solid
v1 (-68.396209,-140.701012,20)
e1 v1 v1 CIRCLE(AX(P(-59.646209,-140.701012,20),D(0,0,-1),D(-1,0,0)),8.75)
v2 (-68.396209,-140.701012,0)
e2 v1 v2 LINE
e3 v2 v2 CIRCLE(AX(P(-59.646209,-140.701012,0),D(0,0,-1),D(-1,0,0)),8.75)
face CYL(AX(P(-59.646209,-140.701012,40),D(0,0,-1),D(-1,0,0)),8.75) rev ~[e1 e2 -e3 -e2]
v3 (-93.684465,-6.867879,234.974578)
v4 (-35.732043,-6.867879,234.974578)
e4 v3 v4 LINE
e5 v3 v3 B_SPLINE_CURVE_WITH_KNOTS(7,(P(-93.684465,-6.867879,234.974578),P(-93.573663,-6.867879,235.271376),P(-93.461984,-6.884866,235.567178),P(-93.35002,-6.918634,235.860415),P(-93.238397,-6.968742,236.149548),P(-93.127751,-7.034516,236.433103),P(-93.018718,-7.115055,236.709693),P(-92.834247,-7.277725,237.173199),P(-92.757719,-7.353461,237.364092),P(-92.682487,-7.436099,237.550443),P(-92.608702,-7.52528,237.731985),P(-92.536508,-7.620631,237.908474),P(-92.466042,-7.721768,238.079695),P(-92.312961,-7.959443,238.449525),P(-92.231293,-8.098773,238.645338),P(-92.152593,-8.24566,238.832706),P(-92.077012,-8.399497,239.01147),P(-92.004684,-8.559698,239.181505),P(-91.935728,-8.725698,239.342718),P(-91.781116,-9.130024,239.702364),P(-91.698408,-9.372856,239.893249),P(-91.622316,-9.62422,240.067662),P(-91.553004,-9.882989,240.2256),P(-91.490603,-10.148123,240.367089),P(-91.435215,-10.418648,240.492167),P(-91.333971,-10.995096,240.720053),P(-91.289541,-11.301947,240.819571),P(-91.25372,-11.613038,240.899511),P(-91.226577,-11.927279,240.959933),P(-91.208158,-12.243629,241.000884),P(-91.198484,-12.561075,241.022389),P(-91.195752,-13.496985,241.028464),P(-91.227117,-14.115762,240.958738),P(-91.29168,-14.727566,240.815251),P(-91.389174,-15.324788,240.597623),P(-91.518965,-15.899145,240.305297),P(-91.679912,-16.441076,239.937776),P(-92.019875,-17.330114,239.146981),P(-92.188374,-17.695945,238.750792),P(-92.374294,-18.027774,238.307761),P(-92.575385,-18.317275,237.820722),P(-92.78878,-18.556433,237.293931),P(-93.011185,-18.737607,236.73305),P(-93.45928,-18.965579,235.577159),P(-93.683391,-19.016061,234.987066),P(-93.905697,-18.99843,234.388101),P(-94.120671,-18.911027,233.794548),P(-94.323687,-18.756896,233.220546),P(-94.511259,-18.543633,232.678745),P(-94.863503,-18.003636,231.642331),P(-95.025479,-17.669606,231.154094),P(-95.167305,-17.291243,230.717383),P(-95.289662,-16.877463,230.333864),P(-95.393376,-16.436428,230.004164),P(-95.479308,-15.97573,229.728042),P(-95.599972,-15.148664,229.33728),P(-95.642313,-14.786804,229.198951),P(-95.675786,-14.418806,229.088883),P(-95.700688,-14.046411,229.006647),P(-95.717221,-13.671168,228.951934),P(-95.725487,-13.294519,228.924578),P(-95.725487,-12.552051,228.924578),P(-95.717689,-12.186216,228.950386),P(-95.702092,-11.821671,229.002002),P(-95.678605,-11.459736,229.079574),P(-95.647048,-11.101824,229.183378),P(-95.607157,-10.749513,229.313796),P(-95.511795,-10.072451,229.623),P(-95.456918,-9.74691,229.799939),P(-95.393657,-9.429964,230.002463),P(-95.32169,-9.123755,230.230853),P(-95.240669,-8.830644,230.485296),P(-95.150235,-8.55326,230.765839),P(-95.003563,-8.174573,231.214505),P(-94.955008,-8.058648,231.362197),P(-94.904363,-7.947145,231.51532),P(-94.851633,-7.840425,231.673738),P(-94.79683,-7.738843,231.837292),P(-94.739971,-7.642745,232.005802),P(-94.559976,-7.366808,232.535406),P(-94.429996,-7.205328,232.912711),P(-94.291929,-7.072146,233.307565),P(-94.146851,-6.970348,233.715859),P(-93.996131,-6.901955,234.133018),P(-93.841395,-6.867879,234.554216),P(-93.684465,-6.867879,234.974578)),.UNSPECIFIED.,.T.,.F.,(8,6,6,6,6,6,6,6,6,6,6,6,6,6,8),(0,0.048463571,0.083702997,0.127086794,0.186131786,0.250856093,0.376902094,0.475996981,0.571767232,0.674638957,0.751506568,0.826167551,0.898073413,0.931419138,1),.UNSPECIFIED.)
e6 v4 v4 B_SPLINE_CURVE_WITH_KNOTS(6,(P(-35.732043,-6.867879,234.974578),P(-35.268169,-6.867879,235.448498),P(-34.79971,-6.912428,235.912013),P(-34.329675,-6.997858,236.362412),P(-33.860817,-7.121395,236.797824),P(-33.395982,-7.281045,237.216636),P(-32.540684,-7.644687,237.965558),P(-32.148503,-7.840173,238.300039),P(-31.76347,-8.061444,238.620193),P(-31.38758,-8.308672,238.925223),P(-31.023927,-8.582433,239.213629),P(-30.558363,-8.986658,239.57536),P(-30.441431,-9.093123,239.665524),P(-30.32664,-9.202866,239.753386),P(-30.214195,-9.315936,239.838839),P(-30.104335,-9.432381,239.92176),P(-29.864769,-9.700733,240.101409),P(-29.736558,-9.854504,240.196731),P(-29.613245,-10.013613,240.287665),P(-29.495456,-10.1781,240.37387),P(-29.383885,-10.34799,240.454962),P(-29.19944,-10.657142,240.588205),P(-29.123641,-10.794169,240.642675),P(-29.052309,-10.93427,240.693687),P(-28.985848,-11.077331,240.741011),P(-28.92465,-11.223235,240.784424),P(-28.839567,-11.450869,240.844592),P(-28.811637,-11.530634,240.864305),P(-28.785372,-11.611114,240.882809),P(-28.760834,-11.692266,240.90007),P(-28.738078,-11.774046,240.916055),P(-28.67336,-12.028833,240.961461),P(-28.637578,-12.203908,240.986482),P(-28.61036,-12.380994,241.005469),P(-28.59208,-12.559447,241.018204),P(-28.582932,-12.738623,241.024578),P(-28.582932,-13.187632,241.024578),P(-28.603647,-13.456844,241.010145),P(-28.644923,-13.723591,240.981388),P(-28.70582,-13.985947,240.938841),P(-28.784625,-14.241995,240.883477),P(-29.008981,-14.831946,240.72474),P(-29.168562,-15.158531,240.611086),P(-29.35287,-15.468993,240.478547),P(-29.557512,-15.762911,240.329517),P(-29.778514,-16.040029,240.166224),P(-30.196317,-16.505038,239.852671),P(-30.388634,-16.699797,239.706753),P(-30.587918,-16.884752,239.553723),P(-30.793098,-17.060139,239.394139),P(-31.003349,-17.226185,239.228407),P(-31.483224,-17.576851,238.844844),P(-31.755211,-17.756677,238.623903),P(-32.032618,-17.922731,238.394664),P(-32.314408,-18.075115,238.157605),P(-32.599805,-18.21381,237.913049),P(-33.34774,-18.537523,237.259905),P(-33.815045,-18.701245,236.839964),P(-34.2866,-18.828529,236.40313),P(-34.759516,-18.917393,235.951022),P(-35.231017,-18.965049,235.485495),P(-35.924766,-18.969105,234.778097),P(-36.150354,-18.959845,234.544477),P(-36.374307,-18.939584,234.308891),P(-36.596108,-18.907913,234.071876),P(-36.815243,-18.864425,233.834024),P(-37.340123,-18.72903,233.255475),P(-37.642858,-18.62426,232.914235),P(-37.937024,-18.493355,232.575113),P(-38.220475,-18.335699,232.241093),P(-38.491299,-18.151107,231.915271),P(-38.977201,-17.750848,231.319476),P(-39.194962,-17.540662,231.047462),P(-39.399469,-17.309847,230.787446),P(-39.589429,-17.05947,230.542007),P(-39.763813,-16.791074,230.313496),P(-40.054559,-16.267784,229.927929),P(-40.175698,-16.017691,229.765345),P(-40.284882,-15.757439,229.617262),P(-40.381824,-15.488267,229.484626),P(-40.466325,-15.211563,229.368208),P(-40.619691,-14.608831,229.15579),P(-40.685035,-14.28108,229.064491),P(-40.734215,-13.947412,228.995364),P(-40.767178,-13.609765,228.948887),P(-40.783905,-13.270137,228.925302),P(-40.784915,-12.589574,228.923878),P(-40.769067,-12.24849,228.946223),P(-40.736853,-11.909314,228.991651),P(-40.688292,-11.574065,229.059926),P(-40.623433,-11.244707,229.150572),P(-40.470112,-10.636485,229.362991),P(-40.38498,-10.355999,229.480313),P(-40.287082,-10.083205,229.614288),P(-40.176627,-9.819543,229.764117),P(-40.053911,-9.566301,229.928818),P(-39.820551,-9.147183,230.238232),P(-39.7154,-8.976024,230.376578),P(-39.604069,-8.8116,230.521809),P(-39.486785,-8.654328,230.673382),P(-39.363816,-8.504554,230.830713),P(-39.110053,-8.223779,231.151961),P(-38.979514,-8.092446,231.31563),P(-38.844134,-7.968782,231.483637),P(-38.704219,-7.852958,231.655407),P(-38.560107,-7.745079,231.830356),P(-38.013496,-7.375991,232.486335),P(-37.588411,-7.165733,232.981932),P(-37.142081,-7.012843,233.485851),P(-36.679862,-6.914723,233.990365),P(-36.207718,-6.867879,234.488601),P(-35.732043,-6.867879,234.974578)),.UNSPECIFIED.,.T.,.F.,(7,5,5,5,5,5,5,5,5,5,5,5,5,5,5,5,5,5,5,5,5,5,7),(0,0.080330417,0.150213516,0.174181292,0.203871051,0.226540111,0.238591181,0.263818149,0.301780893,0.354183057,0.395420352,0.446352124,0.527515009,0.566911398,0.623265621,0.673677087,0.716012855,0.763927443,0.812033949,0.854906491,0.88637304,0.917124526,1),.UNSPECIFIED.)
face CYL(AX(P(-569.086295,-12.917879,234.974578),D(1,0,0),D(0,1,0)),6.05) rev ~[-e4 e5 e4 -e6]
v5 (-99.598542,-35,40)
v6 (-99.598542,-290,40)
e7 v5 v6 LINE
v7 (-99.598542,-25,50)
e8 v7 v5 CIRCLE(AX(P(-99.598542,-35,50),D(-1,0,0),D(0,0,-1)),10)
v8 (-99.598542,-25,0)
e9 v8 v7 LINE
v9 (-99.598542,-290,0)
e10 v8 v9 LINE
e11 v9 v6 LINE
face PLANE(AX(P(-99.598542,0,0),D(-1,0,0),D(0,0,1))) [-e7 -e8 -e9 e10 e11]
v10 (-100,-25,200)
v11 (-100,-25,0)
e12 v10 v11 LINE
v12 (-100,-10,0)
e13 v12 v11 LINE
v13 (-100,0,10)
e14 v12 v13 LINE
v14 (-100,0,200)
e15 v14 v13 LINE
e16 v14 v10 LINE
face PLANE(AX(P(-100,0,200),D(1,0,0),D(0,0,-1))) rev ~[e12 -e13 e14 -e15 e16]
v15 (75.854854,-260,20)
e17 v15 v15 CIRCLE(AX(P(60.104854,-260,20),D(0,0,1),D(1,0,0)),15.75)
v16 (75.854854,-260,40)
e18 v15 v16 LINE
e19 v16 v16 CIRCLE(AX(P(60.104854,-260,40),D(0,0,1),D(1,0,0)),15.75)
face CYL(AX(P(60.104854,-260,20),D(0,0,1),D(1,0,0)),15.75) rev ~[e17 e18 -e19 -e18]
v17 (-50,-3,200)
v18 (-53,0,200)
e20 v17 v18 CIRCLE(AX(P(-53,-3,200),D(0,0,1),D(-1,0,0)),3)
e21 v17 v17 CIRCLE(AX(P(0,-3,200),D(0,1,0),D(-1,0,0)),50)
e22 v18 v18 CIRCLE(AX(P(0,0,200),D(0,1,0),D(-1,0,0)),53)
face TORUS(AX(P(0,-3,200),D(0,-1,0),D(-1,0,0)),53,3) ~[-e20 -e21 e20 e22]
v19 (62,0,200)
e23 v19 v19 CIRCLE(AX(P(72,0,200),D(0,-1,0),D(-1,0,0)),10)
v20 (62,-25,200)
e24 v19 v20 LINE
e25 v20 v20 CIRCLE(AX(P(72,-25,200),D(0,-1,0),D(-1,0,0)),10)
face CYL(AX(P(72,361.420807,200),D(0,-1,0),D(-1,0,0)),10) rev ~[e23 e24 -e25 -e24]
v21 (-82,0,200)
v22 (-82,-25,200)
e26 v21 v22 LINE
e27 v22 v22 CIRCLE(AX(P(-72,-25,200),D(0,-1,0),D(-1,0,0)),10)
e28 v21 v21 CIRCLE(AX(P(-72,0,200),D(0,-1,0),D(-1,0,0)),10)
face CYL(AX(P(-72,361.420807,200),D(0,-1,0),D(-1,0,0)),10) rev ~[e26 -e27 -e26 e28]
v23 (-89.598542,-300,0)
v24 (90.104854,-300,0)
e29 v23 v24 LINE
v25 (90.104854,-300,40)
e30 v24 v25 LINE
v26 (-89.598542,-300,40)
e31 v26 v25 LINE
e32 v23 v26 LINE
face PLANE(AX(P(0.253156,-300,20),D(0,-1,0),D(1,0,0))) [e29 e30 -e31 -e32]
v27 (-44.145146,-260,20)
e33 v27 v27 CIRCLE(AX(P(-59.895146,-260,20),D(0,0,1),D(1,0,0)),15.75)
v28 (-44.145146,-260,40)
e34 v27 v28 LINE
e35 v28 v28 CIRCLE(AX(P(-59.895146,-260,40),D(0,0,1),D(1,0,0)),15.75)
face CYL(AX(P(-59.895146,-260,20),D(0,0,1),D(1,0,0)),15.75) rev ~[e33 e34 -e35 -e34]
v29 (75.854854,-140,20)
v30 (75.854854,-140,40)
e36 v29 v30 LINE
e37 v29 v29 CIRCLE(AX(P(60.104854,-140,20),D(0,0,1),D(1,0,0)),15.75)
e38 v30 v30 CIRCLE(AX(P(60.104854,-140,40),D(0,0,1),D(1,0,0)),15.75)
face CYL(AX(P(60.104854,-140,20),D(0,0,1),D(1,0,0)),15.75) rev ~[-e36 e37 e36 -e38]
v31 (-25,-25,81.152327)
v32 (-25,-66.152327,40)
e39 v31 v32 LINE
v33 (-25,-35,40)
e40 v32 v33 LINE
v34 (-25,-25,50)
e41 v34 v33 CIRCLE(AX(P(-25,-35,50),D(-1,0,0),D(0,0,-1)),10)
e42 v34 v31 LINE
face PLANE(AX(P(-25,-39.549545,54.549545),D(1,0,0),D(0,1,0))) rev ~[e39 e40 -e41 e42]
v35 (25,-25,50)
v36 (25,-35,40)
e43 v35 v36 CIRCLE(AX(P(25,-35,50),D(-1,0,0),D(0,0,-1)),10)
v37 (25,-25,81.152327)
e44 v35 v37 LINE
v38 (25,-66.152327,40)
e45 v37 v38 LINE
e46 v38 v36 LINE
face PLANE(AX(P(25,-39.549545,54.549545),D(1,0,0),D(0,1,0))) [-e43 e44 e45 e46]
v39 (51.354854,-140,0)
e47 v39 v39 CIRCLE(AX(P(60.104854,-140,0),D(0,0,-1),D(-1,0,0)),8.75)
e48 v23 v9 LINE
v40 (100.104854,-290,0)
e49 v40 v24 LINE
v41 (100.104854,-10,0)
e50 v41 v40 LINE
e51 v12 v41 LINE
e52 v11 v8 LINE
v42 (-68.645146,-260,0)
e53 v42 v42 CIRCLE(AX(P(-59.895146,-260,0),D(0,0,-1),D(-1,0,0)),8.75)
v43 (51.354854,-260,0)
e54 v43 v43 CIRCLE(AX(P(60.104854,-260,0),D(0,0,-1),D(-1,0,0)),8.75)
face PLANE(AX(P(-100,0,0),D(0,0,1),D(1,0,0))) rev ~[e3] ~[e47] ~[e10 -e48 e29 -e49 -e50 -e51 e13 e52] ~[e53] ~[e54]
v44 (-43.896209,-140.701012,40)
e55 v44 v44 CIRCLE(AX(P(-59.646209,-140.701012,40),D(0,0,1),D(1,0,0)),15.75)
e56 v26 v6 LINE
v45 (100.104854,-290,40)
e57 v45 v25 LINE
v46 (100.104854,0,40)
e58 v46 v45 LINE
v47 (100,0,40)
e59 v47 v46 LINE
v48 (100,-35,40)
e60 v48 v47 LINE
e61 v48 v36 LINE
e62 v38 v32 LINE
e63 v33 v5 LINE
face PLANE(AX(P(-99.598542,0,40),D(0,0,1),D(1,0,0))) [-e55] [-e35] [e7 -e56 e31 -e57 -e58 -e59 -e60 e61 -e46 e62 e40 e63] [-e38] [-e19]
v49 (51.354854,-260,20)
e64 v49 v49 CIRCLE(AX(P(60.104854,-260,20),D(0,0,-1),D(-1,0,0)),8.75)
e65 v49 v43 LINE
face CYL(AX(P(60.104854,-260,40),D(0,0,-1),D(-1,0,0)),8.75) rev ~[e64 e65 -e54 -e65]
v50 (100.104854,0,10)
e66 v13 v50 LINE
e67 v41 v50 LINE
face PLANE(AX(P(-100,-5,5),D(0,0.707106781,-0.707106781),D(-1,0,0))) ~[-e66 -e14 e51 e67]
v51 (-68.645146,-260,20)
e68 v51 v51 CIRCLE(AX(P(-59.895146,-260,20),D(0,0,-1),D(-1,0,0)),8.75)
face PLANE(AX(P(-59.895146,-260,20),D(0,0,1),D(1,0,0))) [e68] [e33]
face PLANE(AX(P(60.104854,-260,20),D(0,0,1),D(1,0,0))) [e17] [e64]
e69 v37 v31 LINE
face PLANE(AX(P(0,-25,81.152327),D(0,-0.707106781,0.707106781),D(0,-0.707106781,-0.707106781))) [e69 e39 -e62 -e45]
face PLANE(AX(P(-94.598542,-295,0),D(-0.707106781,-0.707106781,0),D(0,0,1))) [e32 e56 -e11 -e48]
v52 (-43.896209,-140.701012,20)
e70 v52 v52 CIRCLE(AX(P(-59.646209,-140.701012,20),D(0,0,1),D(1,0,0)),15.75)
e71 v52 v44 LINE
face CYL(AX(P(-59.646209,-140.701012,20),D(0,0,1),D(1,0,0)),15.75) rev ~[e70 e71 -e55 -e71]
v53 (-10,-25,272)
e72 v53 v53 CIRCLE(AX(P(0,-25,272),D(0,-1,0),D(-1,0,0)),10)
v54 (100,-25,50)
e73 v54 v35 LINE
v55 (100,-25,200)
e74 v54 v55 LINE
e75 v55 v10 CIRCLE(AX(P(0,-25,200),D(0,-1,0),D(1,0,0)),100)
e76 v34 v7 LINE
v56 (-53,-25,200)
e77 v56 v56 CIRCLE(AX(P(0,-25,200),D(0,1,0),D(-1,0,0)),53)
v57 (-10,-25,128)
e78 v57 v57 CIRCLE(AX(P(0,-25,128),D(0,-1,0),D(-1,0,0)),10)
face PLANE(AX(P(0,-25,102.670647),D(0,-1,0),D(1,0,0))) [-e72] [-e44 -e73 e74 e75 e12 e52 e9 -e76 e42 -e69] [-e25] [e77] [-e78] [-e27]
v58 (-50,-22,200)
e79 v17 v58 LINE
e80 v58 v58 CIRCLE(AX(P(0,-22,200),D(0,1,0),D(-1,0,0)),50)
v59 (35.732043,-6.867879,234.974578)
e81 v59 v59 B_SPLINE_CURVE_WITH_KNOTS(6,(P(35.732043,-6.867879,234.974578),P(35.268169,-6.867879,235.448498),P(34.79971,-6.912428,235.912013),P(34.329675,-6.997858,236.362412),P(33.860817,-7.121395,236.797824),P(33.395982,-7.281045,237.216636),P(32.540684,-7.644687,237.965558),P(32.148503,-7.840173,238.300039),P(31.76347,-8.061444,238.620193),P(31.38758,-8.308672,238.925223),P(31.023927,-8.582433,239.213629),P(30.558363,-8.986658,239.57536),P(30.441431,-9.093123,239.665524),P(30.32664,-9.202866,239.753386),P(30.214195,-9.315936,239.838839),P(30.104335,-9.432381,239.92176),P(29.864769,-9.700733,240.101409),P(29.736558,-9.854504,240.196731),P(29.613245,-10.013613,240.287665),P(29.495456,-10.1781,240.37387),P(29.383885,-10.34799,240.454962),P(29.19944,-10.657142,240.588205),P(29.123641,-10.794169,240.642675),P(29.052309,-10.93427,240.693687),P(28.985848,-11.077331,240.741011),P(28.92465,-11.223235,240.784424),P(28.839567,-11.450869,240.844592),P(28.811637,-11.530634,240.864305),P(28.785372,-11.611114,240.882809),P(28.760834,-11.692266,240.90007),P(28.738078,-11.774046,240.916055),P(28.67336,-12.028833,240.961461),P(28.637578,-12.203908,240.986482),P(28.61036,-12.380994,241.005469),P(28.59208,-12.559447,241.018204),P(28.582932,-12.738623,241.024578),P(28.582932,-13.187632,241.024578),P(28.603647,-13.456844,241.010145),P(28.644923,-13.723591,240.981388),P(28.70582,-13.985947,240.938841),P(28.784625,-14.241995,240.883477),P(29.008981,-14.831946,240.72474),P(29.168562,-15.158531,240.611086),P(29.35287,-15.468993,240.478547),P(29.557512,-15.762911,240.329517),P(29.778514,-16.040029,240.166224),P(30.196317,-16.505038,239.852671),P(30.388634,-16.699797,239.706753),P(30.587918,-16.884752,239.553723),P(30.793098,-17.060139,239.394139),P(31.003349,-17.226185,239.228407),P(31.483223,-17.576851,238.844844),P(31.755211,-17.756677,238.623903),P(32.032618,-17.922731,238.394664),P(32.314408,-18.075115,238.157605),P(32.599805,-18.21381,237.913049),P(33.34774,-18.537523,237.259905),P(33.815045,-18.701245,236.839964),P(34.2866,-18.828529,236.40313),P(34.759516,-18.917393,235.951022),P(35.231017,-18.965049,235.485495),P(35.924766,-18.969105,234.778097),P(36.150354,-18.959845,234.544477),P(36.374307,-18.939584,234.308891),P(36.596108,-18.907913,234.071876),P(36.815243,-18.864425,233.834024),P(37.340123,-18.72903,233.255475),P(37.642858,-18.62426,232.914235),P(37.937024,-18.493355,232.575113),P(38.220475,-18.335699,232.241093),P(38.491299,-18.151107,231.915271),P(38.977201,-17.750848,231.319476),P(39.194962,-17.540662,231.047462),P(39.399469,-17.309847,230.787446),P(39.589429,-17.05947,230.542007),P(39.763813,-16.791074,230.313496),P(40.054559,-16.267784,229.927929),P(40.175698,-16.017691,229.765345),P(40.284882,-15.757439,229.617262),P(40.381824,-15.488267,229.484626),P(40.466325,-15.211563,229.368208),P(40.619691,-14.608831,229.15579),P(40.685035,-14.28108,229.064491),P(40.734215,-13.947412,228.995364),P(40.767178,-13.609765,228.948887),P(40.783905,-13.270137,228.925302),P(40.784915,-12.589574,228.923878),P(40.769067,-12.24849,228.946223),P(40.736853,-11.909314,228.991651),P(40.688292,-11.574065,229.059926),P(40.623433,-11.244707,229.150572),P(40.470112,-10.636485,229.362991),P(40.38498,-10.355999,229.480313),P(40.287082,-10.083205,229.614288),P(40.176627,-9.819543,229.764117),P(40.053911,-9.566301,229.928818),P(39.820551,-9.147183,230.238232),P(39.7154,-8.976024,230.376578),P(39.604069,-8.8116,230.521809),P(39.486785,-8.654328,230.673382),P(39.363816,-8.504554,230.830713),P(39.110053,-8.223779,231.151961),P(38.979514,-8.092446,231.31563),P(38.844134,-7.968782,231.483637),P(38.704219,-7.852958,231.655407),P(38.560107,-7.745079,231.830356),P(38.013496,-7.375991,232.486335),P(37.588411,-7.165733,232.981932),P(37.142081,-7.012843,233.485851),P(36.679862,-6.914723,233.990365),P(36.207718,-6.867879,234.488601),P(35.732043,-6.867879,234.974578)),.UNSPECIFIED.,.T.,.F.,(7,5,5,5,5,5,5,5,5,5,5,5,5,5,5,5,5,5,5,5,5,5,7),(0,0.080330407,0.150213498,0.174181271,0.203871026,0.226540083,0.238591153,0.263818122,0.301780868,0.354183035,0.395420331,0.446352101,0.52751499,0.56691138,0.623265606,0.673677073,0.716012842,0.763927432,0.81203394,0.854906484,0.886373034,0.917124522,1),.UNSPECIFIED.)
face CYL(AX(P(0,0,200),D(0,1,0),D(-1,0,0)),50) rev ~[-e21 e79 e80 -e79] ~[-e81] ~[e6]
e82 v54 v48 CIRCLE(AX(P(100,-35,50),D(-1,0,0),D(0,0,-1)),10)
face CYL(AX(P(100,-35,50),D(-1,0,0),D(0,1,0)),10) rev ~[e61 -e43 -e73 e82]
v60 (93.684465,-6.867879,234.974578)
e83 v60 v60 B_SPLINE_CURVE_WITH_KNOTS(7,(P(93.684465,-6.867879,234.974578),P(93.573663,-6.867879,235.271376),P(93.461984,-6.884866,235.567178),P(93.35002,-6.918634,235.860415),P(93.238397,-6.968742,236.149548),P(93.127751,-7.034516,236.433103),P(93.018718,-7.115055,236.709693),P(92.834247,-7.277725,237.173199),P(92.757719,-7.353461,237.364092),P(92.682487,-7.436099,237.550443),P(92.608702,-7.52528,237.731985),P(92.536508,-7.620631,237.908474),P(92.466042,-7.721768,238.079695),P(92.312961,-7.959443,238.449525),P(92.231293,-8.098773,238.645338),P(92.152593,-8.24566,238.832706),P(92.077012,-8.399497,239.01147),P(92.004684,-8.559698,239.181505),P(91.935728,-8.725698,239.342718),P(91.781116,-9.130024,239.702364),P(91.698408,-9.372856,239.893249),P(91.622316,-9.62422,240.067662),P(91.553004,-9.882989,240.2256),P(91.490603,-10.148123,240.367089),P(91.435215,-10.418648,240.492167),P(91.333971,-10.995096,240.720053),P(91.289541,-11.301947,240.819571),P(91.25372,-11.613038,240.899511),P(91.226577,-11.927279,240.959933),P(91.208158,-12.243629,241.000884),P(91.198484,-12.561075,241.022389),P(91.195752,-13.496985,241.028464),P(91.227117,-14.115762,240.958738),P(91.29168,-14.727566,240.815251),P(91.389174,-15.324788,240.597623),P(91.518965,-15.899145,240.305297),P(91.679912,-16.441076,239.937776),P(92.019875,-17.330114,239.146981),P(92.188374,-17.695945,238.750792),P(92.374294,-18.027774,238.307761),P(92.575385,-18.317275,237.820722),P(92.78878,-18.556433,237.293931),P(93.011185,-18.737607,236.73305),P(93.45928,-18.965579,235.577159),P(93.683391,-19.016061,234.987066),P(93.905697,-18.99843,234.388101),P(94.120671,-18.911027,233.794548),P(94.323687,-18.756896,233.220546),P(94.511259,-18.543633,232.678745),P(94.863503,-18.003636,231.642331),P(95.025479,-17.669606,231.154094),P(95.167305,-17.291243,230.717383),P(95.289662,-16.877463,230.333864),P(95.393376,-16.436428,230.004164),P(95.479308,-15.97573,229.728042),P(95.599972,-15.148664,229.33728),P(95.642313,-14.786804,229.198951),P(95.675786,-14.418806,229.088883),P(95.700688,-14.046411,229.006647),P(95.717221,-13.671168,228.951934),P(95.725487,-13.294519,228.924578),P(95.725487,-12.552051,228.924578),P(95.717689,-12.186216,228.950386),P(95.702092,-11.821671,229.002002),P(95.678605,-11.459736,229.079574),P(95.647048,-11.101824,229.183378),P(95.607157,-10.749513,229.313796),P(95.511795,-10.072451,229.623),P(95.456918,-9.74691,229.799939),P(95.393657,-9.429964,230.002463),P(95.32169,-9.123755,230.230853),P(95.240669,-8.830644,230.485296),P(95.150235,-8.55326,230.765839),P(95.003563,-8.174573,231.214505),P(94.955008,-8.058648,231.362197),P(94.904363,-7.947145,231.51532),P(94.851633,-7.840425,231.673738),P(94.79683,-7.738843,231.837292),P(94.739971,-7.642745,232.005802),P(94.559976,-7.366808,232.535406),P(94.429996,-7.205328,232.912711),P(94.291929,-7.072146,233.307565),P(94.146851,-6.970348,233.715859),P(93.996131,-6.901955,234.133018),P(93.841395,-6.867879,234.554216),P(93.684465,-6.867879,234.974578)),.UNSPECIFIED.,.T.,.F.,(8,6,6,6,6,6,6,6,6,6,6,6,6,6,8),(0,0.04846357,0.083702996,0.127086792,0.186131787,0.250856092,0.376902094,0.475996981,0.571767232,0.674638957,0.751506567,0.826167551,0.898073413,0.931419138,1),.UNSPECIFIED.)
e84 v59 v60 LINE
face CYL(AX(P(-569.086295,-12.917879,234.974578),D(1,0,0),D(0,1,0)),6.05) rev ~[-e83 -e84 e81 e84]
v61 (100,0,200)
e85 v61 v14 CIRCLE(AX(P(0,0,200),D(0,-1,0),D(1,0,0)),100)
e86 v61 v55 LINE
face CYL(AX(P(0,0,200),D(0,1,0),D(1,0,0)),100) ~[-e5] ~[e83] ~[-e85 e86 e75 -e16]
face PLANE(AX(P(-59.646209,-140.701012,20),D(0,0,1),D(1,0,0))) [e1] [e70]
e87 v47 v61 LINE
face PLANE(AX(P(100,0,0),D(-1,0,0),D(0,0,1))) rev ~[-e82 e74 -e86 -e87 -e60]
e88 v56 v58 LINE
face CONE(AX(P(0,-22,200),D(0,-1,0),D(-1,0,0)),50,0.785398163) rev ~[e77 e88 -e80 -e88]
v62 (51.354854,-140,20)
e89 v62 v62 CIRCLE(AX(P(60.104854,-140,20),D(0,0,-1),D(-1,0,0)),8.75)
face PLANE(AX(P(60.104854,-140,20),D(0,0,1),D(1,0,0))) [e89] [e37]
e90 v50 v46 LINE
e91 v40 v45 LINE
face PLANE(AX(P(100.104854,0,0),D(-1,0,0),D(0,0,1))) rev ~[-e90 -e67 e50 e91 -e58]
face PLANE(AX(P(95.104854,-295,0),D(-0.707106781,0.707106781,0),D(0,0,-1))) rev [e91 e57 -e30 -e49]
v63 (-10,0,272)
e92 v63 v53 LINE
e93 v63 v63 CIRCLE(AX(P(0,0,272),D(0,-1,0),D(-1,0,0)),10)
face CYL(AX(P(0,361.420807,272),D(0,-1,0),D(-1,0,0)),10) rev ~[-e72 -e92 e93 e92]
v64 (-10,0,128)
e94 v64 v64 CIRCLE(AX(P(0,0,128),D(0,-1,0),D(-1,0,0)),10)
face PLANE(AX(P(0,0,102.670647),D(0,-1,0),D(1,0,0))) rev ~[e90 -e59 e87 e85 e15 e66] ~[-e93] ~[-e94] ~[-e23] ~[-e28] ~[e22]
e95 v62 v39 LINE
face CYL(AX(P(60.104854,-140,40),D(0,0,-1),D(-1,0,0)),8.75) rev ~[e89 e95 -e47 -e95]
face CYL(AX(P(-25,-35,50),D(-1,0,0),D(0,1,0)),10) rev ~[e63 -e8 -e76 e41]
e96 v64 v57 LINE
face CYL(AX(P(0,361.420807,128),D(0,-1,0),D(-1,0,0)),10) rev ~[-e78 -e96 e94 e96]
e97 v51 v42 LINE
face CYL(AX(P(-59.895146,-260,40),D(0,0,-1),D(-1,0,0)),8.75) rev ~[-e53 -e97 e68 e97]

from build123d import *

# Parameters (mm, degrees)
F0_R           = 10
F1_DEPTH       = 25
F2_D           = 20
F3_W           = 199.7033953667
F3_H           = 40
F4_DEPTH       = 300
F6_DEPTH       = 25
F8_D           = 17.5
F8_CBORE_D     = 31.5
F8_CBORE_DEPTH = 20
F9_SIZE        = 10
F10_SIZE       = 3
F11_R          = 3
F12_R          = 10
F14_D          = 12.1
F15_SIZE       = 10


with BuildPart() as f1:
    # F0 (on Front) → F1 (new body)
    with BuildSketch(Plane.XZ):
        with BuildLine():
            Line((-100, 200), (-100, 0))
            Line((-100, 0), (100, 0))
            Line((100, 0), (100, 200))
            Line((100, 200), (82, 200))
            ThreePointArc((82, 200), (72, 190), (62, 200))
            Line((62, 200), (50, 200))
            ThreePointArc((50, 200), (0, 150), (-50, 200))
            Line((-50, 200), (-62, 200))
            ThreePointArc((-62, 200), (-72, 190), (-82, 200))
            Line((-82, 200), (-100, 200))
        make_face()
        with Locations((0, 128)):
            Circle(F0_R, mode=Mode.SUBTRACT)
        with BuildLine():
            ThreePointArc((100, 200), (0, 300), (-100, 200))
            Line((-100, 200), (-82, 200))
            ThreePointArc((-82, 200), (-72, 210), (-62, 200))
            Line((-62, 200), (-50, 200))
            ThreePointArc((-50, 200), (0, 250), (50, 200))
            Line((50, 200), (62, 200))
            ThreePointArc((62, 200), (72, 210), (82, 200))
            Line((82, 200), (100, 200))
        make_face()
        with Locations((0, 272)):
            Circle(F0_R, mode=Mode.SUBTRACT)
        with BuildLine():
            ThreePointArc((62, 200), (72, 190), (82, 200))
            Line((82, 200), (62, 200))
        make_face()
        with BuildLine():
            Line((62, 200), (82, 200))
            ThreePointArc((82, 200), (72, 210), (62, 200))
        make_face()
        with BuildLine():
            ThreePointArc((-62, 200), (-72, 210), (-82, 200))
            Line((-82, 200), (-62, 200))
        make_face()
        with BuildLine():
            Line((-62, 200), (-82, 200))
            ThreePointArc((-82, 200), (-72, 190), (-62, 200))
        make_face()
        with Locations((0, 272)):
            Circle(F0_R)
        with Locations((0, 128)):
            Circle(F0_R)
    extrude(amount=F1_DEPTH)

    # F2 (through all)
    with Locations(Plane(origin=(0, 0, 0), x_dir=(1, 0, 0), z_dir=(0, 1, 0))):
        with Locations((0, -272), (72, -200), (0, -128), (-72, -200)):
            Hole(F2_D / 2)

    # F3 (on Front) → F4 (join)
    with BuildSketch(Plane.XZ):
        with Locations((0.2531558275, 20)):
            Rectangle(F3_W, F3_H)
    extrude(amount=F4_DEPTH)

    # F5 (on Right) → F6 (join, symmetric)
    with BuildSketch(Plane.YZ):
        Polygon((-66.1523267627, 40), (-25, 40), (-25, 81.1523267627), align=None)
    extrude(amount=F6_DEPTH, both=True)

    # F8 (through all)
    with Locations(Plane.XY.offset(40)):
        with Locations((-59.6462091353, -140.7010122926), (60.1048535109, -140), (60.1048535109, -260), (-59.8951464891, -260)):
            CounterBoreHole(F8_D / 2, F8_CBORE_D / 2, F8_CBORE_DEPTH)

    # F9
    f9_edges = [f1.edges().sort_by_distance(p)[0] for p in [
        (-99.598542, -300, 20),
        (100.104854, -300, 20),
    ]]
    chamfer(f9_edges, length=F9_SIZE)

    # F10
    f10_edges = [f1.edges().sort_by_distance(p)[0] for p in [
        (50, -25, 200),
    ]]
    chamfer(f10_edges, length=F10_SIZE)

    # F11
    f11_edges = [f1.edges().sort_by_distance(p)[0] for p in [
        (50, 0, 200),
    ]]
    fillet(f11_edges, radius=F11_R)

    # F12
    f12_edges = [f1.edges().sort_by_distance(p)[0] for p in [
        (-62.299271, -25, 40),
        (62.5, -25, 40),
    ]]
    fillet(f12_edges, radius=F12_R)

    # F14 (through all)
    with Locations(Plane(origin=(-100, 0, 0), x_dir=(0, -1, 0), z_dir=(-1, 0, 0))):
        with Locations((12.9178790376, 234.974578023)):
            Hole(F14_D / 2)

    # F15
    f15_edges = [f1.edges().sort_by_distance(p)[0] for p in [
        (0.052427, 0, 0),
    ]]
    chamfer(f15_edges, length=F15_SIZE)


solid = f1.part
